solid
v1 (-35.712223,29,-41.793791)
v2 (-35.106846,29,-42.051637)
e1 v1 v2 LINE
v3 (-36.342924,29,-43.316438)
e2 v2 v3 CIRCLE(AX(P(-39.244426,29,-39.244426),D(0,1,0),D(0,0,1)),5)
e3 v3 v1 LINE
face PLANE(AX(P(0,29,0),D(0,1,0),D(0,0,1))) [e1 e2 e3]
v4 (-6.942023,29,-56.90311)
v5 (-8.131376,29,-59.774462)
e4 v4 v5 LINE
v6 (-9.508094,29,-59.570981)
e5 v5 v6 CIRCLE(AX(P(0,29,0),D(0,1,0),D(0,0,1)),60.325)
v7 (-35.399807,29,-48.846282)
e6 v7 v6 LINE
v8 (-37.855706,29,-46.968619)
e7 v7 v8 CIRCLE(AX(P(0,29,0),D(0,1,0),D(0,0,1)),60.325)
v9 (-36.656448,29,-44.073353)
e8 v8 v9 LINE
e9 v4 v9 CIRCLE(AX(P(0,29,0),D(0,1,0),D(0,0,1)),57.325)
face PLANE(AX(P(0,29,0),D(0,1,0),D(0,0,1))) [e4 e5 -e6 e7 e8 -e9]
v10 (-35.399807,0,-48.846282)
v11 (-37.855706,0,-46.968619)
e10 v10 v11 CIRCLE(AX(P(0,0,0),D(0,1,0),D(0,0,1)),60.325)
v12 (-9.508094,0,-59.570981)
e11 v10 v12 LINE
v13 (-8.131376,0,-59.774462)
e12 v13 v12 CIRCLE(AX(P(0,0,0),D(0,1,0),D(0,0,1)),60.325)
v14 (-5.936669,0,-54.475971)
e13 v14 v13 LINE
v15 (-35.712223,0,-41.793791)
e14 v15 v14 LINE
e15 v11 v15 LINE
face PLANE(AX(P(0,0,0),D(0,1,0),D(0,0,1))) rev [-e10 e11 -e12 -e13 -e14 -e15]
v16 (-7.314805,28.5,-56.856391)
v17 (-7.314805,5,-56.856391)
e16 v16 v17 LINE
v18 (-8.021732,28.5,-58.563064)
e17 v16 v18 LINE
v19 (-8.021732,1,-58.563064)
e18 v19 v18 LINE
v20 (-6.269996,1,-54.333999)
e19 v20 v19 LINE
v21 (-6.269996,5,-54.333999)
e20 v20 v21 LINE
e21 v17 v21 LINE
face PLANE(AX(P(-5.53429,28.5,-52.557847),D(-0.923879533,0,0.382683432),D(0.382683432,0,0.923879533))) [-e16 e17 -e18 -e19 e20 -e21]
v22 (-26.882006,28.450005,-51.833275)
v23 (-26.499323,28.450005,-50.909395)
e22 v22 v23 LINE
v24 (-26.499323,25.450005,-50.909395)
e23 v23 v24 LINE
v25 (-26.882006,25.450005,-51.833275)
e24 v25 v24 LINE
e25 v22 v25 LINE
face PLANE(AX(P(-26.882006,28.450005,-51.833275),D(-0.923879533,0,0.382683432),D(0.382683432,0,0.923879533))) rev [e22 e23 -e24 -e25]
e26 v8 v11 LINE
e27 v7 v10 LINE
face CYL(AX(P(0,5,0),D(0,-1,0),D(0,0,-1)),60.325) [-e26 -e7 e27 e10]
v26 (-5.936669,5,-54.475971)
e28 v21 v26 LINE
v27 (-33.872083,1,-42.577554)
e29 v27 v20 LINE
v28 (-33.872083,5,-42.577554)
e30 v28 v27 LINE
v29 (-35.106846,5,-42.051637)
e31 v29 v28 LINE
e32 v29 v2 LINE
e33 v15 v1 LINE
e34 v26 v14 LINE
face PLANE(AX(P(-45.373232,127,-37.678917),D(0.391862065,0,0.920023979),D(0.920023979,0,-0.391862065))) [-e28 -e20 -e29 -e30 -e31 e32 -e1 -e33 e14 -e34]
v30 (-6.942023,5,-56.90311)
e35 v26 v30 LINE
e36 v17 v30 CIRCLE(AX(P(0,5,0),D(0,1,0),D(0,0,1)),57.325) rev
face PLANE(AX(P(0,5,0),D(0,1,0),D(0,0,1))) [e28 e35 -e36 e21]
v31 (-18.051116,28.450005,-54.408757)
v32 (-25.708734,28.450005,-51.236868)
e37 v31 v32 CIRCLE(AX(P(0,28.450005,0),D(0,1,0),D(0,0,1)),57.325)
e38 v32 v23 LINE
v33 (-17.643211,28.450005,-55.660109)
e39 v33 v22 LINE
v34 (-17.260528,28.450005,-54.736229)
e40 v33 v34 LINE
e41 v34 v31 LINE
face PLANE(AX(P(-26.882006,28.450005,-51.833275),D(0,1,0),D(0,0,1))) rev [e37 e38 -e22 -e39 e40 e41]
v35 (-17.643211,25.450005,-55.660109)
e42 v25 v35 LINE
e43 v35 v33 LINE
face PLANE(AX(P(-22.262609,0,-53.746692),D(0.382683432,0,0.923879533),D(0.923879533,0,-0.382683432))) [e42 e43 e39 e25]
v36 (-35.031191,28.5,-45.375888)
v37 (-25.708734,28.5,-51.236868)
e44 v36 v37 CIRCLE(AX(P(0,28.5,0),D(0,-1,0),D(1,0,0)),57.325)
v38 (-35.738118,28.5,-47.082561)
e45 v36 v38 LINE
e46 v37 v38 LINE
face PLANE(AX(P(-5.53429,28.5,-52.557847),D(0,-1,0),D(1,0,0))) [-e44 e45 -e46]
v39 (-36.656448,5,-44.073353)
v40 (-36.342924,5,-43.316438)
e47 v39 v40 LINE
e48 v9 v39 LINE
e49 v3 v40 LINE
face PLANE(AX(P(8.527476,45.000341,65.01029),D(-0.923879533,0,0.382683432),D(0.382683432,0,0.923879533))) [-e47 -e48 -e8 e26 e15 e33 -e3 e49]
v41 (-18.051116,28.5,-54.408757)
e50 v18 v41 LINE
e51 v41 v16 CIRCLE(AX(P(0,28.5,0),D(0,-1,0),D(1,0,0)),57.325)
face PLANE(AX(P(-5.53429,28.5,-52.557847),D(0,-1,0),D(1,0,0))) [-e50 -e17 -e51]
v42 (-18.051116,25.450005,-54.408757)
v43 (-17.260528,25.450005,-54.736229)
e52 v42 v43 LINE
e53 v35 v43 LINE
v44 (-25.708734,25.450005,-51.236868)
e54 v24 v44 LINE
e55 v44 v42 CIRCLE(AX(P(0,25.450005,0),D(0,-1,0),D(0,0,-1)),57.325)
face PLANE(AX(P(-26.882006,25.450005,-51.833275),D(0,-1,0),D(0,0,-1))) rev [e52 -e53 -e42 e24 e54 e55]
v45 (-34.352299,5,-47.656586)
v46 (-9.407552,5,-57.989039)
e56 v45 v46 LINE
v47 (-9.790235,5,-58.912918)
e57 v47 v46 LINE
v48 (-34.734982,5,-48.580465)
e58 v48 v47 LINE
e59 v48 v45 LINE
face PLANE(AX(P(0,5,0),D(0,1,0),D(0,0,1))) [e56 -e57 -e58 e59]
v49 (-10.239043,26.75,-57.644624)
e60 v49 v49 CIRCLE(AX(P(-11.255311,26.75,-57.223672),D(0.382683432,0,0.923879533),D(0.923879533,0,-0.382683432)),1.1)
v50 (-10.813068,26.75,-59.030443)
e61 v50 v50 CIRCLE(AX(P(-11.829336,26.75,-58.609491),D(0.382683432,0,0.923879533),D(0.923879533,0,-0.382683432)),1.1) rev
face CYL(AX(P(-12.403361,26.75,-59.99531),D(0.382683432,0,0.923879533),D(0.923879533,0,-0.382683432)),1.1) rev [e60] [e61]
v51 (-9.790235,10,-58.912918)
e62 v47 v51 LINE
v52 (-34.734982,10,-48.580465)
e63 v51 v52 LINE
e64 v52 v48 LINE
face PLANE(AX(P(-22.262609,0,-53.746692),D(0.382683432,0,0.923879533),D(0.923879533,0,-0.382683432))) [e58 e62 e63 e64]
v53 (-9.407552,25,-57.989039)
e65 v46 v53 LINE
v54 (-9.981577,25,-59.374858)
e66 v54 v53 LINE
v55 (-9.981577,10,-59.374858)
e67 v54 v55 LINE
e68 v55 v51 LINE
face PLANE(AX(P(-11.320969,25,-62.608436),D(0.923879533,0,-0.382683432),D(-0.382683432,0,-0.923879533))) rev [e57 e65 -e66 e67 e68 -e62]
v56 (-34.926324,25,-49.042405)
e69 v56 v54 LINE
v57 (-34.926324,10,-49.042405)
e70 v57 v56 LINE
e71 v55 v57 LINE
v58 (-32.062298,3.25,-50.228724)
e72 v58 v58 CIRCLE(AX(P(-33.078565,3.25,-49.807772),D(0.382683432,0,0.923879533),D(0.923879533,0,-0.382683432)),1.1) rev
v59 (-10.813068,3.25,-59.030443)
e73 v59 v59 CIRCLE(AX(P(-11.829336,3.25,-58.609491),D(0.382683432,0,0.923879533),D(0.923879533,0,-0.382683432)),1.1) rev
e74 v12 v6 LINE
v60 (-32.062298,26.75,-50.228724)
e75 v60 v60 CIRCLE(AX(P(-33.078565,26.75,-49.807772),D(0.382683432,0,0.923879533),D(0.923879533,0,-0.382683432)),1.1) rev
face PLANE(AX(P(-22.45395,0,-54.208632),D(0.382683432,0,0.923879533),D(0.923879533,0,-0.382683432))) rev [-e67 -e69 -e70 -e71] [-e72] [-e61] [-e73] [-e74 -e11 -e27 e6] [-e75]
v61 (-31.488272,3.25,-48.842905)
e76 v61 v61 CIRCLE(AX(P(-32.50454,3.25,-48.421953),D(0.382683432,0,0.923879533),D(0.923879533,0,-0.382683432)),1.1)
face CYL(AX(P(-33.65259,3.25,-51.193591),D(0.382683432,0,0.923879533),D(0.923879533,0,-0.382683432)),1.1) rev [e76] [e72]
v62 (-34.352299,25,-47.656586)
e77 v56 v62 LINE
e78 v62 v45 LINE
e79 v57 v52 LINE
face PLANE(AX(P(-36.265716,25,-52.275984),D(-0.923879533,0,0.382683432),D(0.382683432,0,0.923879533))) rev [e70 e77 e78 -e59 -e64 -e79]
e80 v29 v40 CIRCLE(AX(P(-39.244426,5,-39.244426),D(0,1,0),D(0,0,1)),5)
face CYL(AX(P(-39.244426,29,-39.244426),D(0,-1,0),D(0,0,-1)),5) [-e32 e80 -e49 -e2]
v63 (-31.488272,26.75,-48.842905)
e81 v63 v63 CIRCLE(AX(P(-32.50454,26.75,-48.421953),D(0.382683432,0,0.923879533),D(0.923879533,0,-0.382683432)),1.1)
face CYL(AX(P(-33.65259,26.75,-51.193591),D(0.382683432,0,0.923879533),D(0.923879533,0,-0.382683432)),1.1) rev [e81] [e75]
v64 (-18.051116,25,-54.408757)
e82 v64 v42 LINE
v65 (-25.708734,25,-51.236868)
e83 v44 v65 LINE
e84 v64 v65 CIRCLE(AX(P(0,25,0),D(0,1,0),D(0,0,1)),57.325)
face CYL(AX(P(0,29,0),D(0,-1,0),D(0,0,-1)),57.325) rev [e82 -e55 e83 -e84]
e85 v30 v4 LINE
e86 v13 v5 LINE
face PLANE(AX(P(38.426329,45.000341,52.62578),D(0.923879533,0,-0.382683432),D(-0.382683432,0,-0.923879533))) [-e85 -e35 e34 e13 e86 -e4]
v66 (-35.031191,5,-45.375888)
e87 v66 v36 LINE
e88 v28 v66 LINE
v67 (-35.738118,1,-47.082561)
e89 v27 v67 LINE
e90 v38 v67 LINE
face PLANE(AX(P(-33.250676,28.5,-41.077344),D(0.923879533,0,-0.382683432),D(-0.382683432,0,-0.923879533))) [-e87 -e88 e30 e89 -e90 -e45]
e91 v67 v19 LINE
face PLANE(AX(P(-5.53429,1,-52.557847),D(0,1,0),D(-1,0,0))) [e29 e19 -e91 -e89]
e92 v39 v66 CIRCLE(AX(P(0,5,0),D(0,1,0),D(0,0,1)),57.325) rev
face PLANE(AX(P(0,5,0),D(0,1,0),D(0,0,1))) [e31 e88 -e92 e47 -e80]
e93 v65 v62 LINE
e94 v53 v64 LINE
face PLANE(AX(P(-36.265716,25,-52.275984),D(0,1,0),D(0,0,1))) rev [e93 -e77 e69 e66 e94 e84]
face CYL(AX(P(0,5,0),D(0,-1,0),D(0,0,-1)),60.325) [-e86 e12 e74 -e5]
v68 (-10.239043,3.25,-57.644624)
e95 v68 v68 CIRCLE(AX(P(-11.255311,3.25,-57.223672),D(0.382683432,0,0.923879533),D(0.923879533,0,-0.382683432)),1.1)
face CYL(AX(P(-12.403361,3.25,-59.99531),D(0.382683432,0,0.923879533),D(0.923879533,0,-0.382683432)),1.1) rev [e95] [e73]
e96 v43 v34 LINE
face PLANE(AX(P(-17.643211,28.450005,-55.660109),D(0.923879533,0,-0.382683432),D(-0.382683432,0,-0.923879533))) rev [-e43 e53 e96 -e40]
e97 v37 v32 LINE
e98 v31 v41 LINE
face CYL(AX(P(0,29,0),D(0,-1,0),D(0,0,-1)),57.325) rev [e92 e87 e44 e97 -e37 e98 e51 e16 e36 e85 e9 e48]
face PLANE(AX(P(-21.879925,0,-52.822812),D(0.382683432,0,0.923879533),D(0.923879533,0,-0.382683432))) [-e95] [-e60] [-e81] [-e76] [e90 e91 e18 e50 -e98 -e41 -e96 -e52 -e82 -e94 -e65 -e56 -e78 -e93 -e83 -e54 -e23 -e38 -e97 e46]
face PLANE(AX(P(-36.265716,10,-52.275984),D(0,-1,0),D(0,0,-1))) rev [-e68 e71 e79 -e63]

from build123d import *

# Parameters (mm, degrees)
SKETCH1_R                = 60.325
BOSS_EXTRUDE1_DEPTH      = 5
SKETCH3_R                = 60.325
SKETCH3_R_2              = 57.325
BOSS_EXTRUDE3_DEPTH      = 24
BOSS_EXTRUDE13_DEPTH     = 2
SKETCH7_R                = 5.5
CUT_EXTRUDE1_DEPTH       = 5
SKETCH14_R               = 2.5000000000000004
CUT_EXTRUDE7_DEPTH       = 5
SKETCH15_R               = 12.5
BOSS_EXTRUDE15_DEPTH     = 3
SKETCH16_R               = 10.5
CUT_EXTRUDE9_DEPTH       = 5
SKETCH17_R               = 2.5000000000000018
SKETCH17_R_2             = 2.500000000000002
SKETCH17_R_3             = 2.5000000000000004
CUT_EXTRUDE10_DEPTH      = 5
SKETCH20_W               = 10.617189631650703
SKETCH20_H               = 4.842928603910877
CUT_EXTRUDE13_DEPTH      = 1
SKETCH26_W               = 50
SKETCH26_H               = 24
BOSS_EXTRUDE46_DEPTH     = 10
SKETCH27_W               = 45
SKETCH27_H               = 20.000000000000004
CUT_EXTRUDE15_DEPTH      = 5
SKETCH29_R               = 1.0999999999999992
CUT_EXTRUDE17_DEPTH      = 10
CUT_EXTRUDE18_DEPTH      = 20
BOSS_EXTRUDE47_DEPTH     = 24
CUT_EXTRUDE19_START      = -30
CUT_EXTRUDE19_DEPTH      = 30
SKETCH31_R               = 3.0000000000000018
SKETCH31_R_2             = 3.0000000000000004
BOSS_EXTRUDE48_DEPTH     = 10
SKETCH32_R               = 1.5000000000000024
SKETCH32_R_2             = 1.5000000000000042
CUT_EXTRUDE20_DEPTH      = 5
SKETCH33_R               = 2.500000000000004
SKETCH33_R_2             = 2.4999999999999973
BOSS_EXTRUDE49_DEPTH     = 5
SKETCH34_R               = 1.100000000000003
SKETCH34_R_2             = 1.100000000000001
SKETCH34_R_3             = 1.1
SKETCH34_R_4             = 1.0999999999999983
CUT_EXTRUDE21_DEPTH      = 5
BOSS_EXTRUDE50_DEPTH     = 15
BOSS_EXTRUDE51_DEPTH     = 2
CUT_EXTRUDE25_DEPTH      = 2
CUT_EXTRUDE26_DEPTH      = 12
SKETCH41_R               = 1.0999999999999992
SKETCH41_R_2             = 1.100000000000001
CUT_EXTRUDE27_DEPTH      = 12
CUT_EXTRUDE28_DEPTH      = 4
CUT_EXTRUDE28_DEPTH_BACK = 2.5
SKETCH44_R               = 2.499999999999999
BOSS_EXTRUDE52_DEPTH     = 5
SKETCH45_R               = 1.0999999999999983
CUT_EXTRUDE29_DEPTH      = 5
CUT_EXTRUDE30_DEPTH      = 5
SKETCH47_R               = 1.100000000000001
CUT_EXTRUDE31_DEPTH      = 3
CUT_EXTRUDE32_DEPTH      = 5
SKETCH49_W               = 27
SKETCH49_H               = 5
CUT_EXTRUDE33_DEPTH      = 1
SKETCH50_W               = 54.2861765056904
SKETCH50_H               = 77.14351398178086
CUT_EXTRUDE34_DEPTH      = 121.99999999999999
CUT_EXTRUDE35_DEPTH      = 121.99999999999999
CUT_EXTRUDE35_DEPTH_BACK = 121.99999999999999


with BuildPart() as part:
    # Sketch1 → Boss-Extrude1 (new body)
    with BuildSketch(Plane(origin=(0, 0, 0), x_dir=(1, 0, 0), z_dir=(0, 1, 0))):
        Circle(SKETCH1_R)
    extrude(amount=BOSS_EXTRUDE1_DEPTH)

    # Sketch3 → Boss-Extrude3 (add)
    with BuildSketch(Plane(origin=(0, 5, 0), x_dir=(1, 0, 0), z_dir=(0, 1, 0))):
        Circle(SKETCH3_R)
        Circle(SKETCH3_R_2, mode=Mode.SUBTRACT)
    extrude(amount=BOSS_EXTRUDE3_DEPTH)

    # Sketch6 → Boss-Extrude13 (add)
    with BuildSketch(Plane.XY.offset(60.325)):
        Polygon((-7.5, 19.5), (7.5, 19.5), (7.5000000000000036, 4.500000000000001), (-7.4999999999999964, 4.500000000000001), align=None)
    extrude(amount=-BOSS_EXTRUDE13_DEPTH)

    # Sketch7 → Cut-Extrude1 (cut)
    with BuildSketch(Plane.XY.offset(60.325)):
        with Locations((0, 12.313384582393407)):
            Circle(SKETCH7_R)
    extrude(amount=-CUT_EXTRUDE1_DEPTH, mode=Mode.SUBTRACT)

    # Sketch14 → Cut-Extrude7 (cut)
    with BuildSketch(Plane(origin=(0, 0, -60.325), x_dir=(-1, 0, 0), z_dir=(0, 0, -1))):
        with Locations((0, 13.215899789160813)):
            Circle(SKETCH14_R)
    extrude(amount=-CUT_EXTRUDE7_DEPTH, mode=Mode.SUBTRACT)

    # Sketch15 → Boss-Extrude15 (add)
    with BuildSketch(Plane.ZY.offset(60.325)):
        with Locations((0, 14.079498945802262)):
            Circle(SKETCH15_R)
    extrude(amount=-BOSS_EXTRUDE15_DEPTH)

    # Sketch16 → Cut-Extrude9 (cut)
    with BuildSketch(Plane.ZY.offset(60.325)):
        with Locations((0, 14.367365331349822)):
            Circle(SKETCH16_R)
    extrude(amount=-CUT_EXTRUDE9_DEPTH, mode=Mode.SUBTRACT)

    # Sketch17 → Cut-Extrude10 (cut)
    with BuildSketch(Plane(origin=(0, 5, 0), x_dir=(1, 0, 0), z_dir=(0, 1, 0))):
        with Locations((0, 40)):
            Circle(SKETCH17_R)
        with Locations((40, 0)):
            Circle(SKETCH17_R_2)
        with Locations((0, -40)):
            Circle(SKETCH17_R_3)
        with Locations((-40, 0)):
            Circle(SKETCH17_R_2)
    extrude(amount=-CUT_EXTRUDE10_DEPTH, mode=Mode.SUBTRACT)

    # Sketch20 → Cut-Extrude13 (cut)
    with BuildSketch(Plane(origin=(0, 5, 0), x_dir=(1, 0, 0), z_dir=(0, 1, 0))):
        with Locations((0.20330529432061706, 46.91179778863133)):
            Rectangle(SKETCH20_W, SKETCH20_H)
    extrude(amount=-CUT_EXTRUDE13_DEPTH, mode=Mode.SUBTRACT)

    # Sketch26 → Boss-Extrude46 (add)
    with BuildSketch(Plane(origin=(50, 0, 0), x_dir=(0, 0, -1), z_dir=(1, 0, 0))):
        with Locations((3.55e-15, 17.000000000000004)):
            Rectangle(SKETCH26_W, SKETCH26_H)
    extrude(amount=BOSS_EXTRUDE46_DEPTH)

    # Sketch27 → Cut-Extrude15 (cut)
    with BuildSketch(Plane(origin=(60.325, 0, 0), x_dir=(0, 0, -1), z_dir=(1, 0, 0))):
        with Locations((7.11e-15, 15.000000000000002)):
            Rectangle(SKETCH27_W, SKETCH27_H)
    extrude(amount=-CUT_EXTRUDE15_DEPTH, mode=Mode.SUBTRACT)

    # Sketch29 → Cut-Extrude17 (cut)
    with BuildSketch(Plane(origin=(55.325, 0, 0), x_dir=(0, 0, -1), z_dir=(1, 0, 0))):
        with Locations((-19.999999999999986, 20.999999999999996)):
            Circle(SKETCH29_R)
        with Locations((-19.999999999999986, 9)):
            Circle(SKETCH29_R)
        with Locations((20.000000000000018, 20.999999999999996)):
            Circle(SKETCH29_R)
        with Locations((20.000000000000014, 9.151874819132662)):
            Circle(SKETCH29_R)
    extrude(amount=-CUT_EXTRUDE17_DEPTH, mode=Mode.SUBTRACT)

    # Sketch28 → Cut-Extrude18 (cut)
    with BuildSketch(Plane(origin=(60.325, 0, 0), x_dir=(0, 0, -1), z_dir=(1, 0, 0))):
        Polygon((-17.499999999999996, 23.348125180867335), (17.500000000000004, 23.348125180867342), (17.500000000000007, 6.6518748191326615), (-17.499999999999996, 6.651874819132655), align=None)
    extrude(amount=-CUT_EXTRUDE18_DEPTH, mode=Mode.SUBTRACT)

    # Sketch5 → Boss-Extrude47 (add)
    with BuildSketch(Plane(origin=(0, 5, 0), x_dir=(1, 0, 0), z_dir=(0, 1, 0))):
        with BuildLine():
            ThreePointArc((-43.739295545453594, 37.05441471926724), (-35.70889244992055, 35.708892449920754), (-37.054414719267506, 43.73929554545372))
            ThreePointArc((-37.05441471926745, 43.73929554545359), (-38.52084651181077, 42.453504084039004), (-39.94269093151786, 41.118573250408886))
            ThreePointArc((-39.94269093151788, 41.11857325040891), (-37.83021279348029, 37.83021279348028), (-41.1185732504089, 39.942690931517895))
            ThreePointArc((-41.11857325040886, 39.94269093151788), (-42.45350408403905, 38.520846511810724), (-43.739295545453714, 37.0544147192673))
        make_face()
        with BuildLine():
            ThreePointArc((37.05441471926732, 43.73929554545373), (35.70889244992064, 35.70889244992067), (43.739295545453665, 37.05441471926758))
            ThreePointArc((43.73929554545353, 37.05441471926752), (42.45350408403893, 38.52084651181085), (41.11857325040883, 39.94269093151792))
            ThreePointArc((41.11857325040885, 39.94269093151794), (37.83021279348023, 37.830212793480364), (39.94269093151782, 41.11857325040898))
            ThreePointArc((39.942690931517795, 41.11857325040895), (38.52084651181068, 42.45350408403908), (37.05441471926731, 43.739295545453714))
        make_face()
        with BuildLine():
            ThreePointArc((-43.73929554545361, -37.05441471926742), (-42.45350408403899, -38.52084651181079), (-41.11857325040885, -39.94269093151789))
            ThreePointArc((-41.118573250408886, -39.94269093151791), (-37.83021279348029, -37.83021279348027), (-39.94269093151786, -41.11857325040891))
            ThreePointArc((-39.94269093151787, -41.11857325040888), (-38.520846511810724, -42.45350408403905), (-37.05441471926732, -43.7392955454537))
            ThreePointArc((-37.05441471926724, -43.73929554545361), (-35.70889244992073, -35.70889244992055), (-43.739295545453714, -37.05441471926749))
        make_face()
        with BuildLine():
            ThreePointArc((43.73929554545405, -37.0544147192667), (35.70889244992104, -35.70889244992027), (37.054414719267896, -43.7392955454532))
            ThreePointArc((37.05441471926789, -43.73929554545322), (38.52084651181126, -42.45350408403856), (39.94269093151833, -41.11857325040843))
            ThreePointArc((39.94269093151833, -41.11857325040844), (37.83021279348074, -37.83021279347984), (41.118573250409426, -39.942690931517305))
            ThreePointArc((41.118573250409405, -39.942690931517326), (42.453504084039544, -38.520846511810184), (43.739295545454155, -37.05441471926678))
        make_face()
    extrude(amount=BOSS_EXTRUDE47_DEPTH)

    # Sketch30 → Cut-Extrude19 (cut)
    with BuildSketch(Plane(origin=(0, 29, 0), x_dir=(1, 0, 0), z_dir=(0, 1, 0)).offset(CUT_EXTRUDE19_START)):
        with BuildLine():
            Line((51.783140736674326, 30.9453059517236), (68.40972028142612, 30.9453059517236))
            ThreePointArc((68.40972028142612, 30.9453059517236), (75.07900376332695, -0.803108545018857), (67.73210824333012, -32.401594132736065))
            Line((67.73210824333012, -32.401594132736065), (50.88459808878757, -32.401594132736065))
            ThreePointArc((50.88459808878757, -32.401594132736065), (60.31893223906523, -0.8555925075975032), (51.783140736674326, 30.9453059517236))
        make_face()
    extrude(amount=CUT_EXTRUDE19_DEPTH, mode=Mode.SUBTRACT)

    # Sketch31 → Boss-Extrude48 (add)
    with BuildSketch(Plane(origin=(0, 5, 0), x_dir=(1, 0, 0), z_dir=(0, 1, 0))):
        with Locations((-33.05, 28)):
            Circle(SKETCH31_R)
        with Locations((-14.000000000000004, 28)):
            Circle(SKETCH31_R_2)
        with Locations((-13.999999999999996, -27.88)):
            Circle(SKETCH31_R_2)
        with Locations((-33.05, -27.88)):
            Circle(SKETCH31_R)
    extrude(amount=BOSS_EXTRUDE48_DEPTH)

    # Sketch32 → Cut-Extrude20 (cut)
    with BuildSketch(Plane(origin=(0, 15, 0), x_dir=(1, 0, 0), z_dir=(0, 1, 0))):
        with Locations((-13.999999999999996, -27.88)):
            Circle(SKETCH32_R)
        with Locations((-33.05, -27.88)):
            Circle(SKETCH32_R_2)
        with Locations((-33.05, 28)):
            Circle(SKETCH32_R_2)
        with Locations((-14.000000000000004, 28)):
            Circle(SKETCH32_R)
    extrude(amount=-CUT_EXTRUDE20_DEPTH, mode=Mode.SUBTRACT)

    # Sketch33 → Boss-Extrude49 (add)
    with BuildSketch(Plane(origin=(0, 5, 0), x_dir=(1, 0, 0), z_dir=(0, 1, 0))):
        with Locations((-5.000000000000004, 35)):
            Circle(SKETCH33_R)
        with Locations((6.3999989036082425, 35.004999773071894)):
            Circle(SKETCH33_R_2)
        Polygon((-6.750000000000009, -14.647089988643435), (-3.2500000000000084, -14.647089988643431), (-3.2500000000000084, -9.352910011356565), (-6.750000000000009, -9.352910011356565), align=None)
        Polygon((4.649999999999994, -14.647089988643435), (8.149999999999995, -14.647089988643435), (8.149999999999993, -9.352910011356565), (4.649999999999994, -9.352910011356565), align=None)
    extrude(amount=BOSS_EXTRUDE49_DEPTH)

    # Sketch34 → Cut-Extrude21 (cut)
    with BuildSketch(Plane(origin=(0, 10, 0), x_dir=(1, 0, 0), z_dir=(0, 1, 0))):
        with Locations((6.3999989036082425, 35.004999773071894)):
            Circle(SKETCH34_R)
        with Locations((6.399998903608244, -12)):
            Circle(SKETCH34_R_2)
        with Locations((-5.000000000000003, -12)):
            Circle(SKETCH34_R_3)
        with Locations((-5.000000000000004, 35)):
            Circle(SKETCH34_R_4)
    extrude(amount=-CUT_EXTRUDE21_DEPTH, mode=Mode.SUBTRACT)

    # Sketch35 → Boss-Extrude50 (add)
    with BuildSketch(Plane(origin=(0, 5, 0), x_dir=(1, 0, 0), z_dir=(0, 1, 0))):
        Polygon((13.999999999999998, 20), (16.999999999999996, 20), (17, -20), (14.000000000000004, -20), align=None)
    extrude(amount=BOSS_EXTRUDE50_DEPTH)

    # Sketch39 → Boss-Extrude51 (add)
    with BuildSketch(Plane(origin=(21.171960895598467, 0, 51.113635136187), x_dir=(0, -1, 0), z_dir=(0.38268343236508734, 0, 0.9238795325112877))):
        Polygon((-29, 15.014391088551141), (-5.000000000000002, 15.014391088551141), (-4.999999999999997, -14.985608911448859), (-29, -14.985608911448859), align=None)
    boss_extrude51 = extrude(amount=BOSS_EXTRUDE51_DEPTH)

    # Sketch37 → Cut-Extrude25 (cut)
    with BuildSketch(Plane(origin=(23.0853780574239, 0, 55.73303279874344), x_dir=(0, -1, 0), z_dir=(0.38268343236508734, 0, 0.9238795325112877))):
        Polygon((-25, 13.999999999999996), (-5.000000000000001, 13.999999999999996), (-4.999999999999999, -14.000000000000004), (-24.999999999999996, -14.000000000000004), align=None)
    cut_extrude25 = extrude(amount=-CUT_EXTRUDE25_DEPTH, mode=Mode.SUBTRACT)

    # Sketch40 → Cut-Extrude26 (cut)
    with BuildSketch(Plane(origin=(23.0853780574239, 0, 55.73303279874344), x_dir=(0, -1, 0), z_dir=(0.38268343236508734, 0, 0.9238795325112877))):
        Polygon((-23, 9.999999999999996), (-7.000000000000003, 9.999999999999996), (-6.999999999999998, -10.000000000000004), (-22.999999999999996, -10.000000000000004), align=None)
    cut_extrude26 = extrude(amount=-CUT_EXTRUDE26_DEPTH, mode=Mode.SUBTRACT)

    # Sketch41 → Cut-Extrude27 (cut)
    with BuildSketch(Plane(origin=(23.0853780574239, 0, 55.73303279874344), x_dir=(0, -1, 0), z_dir=(0.38268343236508734, 0, 0.9238795325112877))):
        with Locations((-21, 12)):
            Circle(SKETCH41_R)
        with Locations((-9.000000000000002, 12)):
            Circle(SKETCH41_R_2)
        with Locations((-8.999999999999998, -12)):
            Circle(SKETCH41_R_2)
        with Locations((-20.999999999999996, -12)):
            Circle(SKETCH41_R)
    cut_extrude27 = extrude(amount=-CUT_EXTRUDE27_DEPTH, mode=Mode.SUBTRACT)

    # Mirror2: Boss-Extrude51, Cut-Extrude25, Cut-Extrude26, Cut-Extrude27 across plane
    add(boss_extrude51.mirror(Plane(origin=(0, 0, 0), x_dir=(0, 0, 1), z_dir=(1, 0, 0))))
    add(cut_extrude25.mirror(Plane(origin=(0, 0, 0), x_dir=(0, 0, 1), z_dir=(1, 0, 0))), mode=Mode.SUBTRACT)
    add(cut_extrude26.mirror(Plane(origin=(0, 0, 0), x_dir=(0, 0, 1), z_dir=(1, 0, 0))), mode=Mode.SUBTRACT)
    add(cut_extrude27.mirror(Plane(origin=(0, 0, 0), x_dir=(0, 0, 1), z_dir=(1, 0, 0))), mode=Mode.SUBTRACT)

    # Sketch43 → Cut-Extrude28 (cut, two sides: drawn at the far end of the back side and taken through both)
    with BuildSketch(Plane(origin=(-20.923216664561146, 0, -50.51311344005465), x_dir=(0, -1, 0), z_dir=(0.38268343236508734, 0, 0.9238795325112877)).offset(-CUT_EXTRUDE28_DEPTH_BACK)):
        Polygon((-28.5, 15), (-1.0000000000000009, 15), (-0.9999999999999974, -15), (-28.499999999999996, -15), align=None)
    extrude(amount=CUT_EXTRUDE28_DEPTH + CUT_EXTRUDE28_DEPTH_BACK, mode=Mode.SUBTRACT)

    # Sketch44 → Boss-Extrude52 (add)
    with BuildSketch(Plane(origin=(0, 5, 0), x_dir=(1, 0, 0), z_dir=(0, 1, 0))):
        with Locations((-20, 45)):
            Circle(SKETCH44_R)
        with Locations((18.229539652623778, 45)):
            Circle(SKETCH44_R)
        with Locations((18.229539652623778, -32.02717202587299)):
            Circle(SKETCH44_R)
    extrude(amount=BOSS_EXTRUDE52_DEPTH)

    # Sketch45 → Cut-Extrude29 (cut)
    with BuildSketch(Plane(origin=(0, 10, 0), x_dir=(1, 0, 0), z_dir=(0, 1, 0))):
        with Locations((-20, 45)):
            Circle(SKETCH45_R)
        with Locations((18.229539652623778, 45)):
            Circle(SKETCH45_R)
        with Locations((18.229539652623778, -32.02717202587299)):
            Circle(SKETCH45_R)
    extrude(amount=-CUT_EXTRUDE29_DEPTH, mode=Mode.SUBTRACT)

    # Sketch46 → Cut-Extrude30 (cut)
    with BuildSketch(Plane(origin=(-21.879925245473853, 0, -52.82281227133289), x_dir=(0.9238795325112877, 0, -0.38268343236508756), z_dir=(0.38268343236508756, 0, 0.9238795325112877))):
        Polygon((-13.50000000000003, 25), (13.49999999999997, 25), (13.499999999999968, 10), (-13.500000000000028, 10), align=None)
    extrude(amount=-CUT_EXTRUDE30_DEPTH, mode=Mode.SUBTRACT)

    # Sketch47 → Cut-Extrude31 (cut)
    with BuildSketch(Plane(origin=(-21.879925245473853, 0, -52.82281227133289), x_dir=(0.9238795325112877, 0, -0.38268343236508756), z_dir=(0.38268343236508756, 0, 0.9238795325112877))):
        with Locations((11.500000000000005, 26.75)):
            Circle(SKETCH47_R)
        with Locations((-11.499999999999995, 26.75)):
            Circle(SKETCH47_R)
        with Locations((-11.5, 3.25)):
            Circle(SKETCH47_R)
        with Locations((11.500000000000002, 3.25)):
            Circle(SKETCH47_R)
    extrude(amount=-CUT_EXTRUDE31_DEPTH, mode=Mode.SUBTRACT)

    # Sketch48 → Cut-Extrude32 (cut)
    with BuildSketch(Plane(origin=(-22.453950394021497, 0, -54.208631570099804), x_dir=(0, -1, 0), z_dir=(0.38268343236508734, 0, 0.9238795325112877))):
        Polygon((-35, 15), (4.999999999999997, 15), (5.000000000000004, -15), (-34.99999999999999, -15), align=None)
    extrude(amount=-CUT_EXTRUDE32_DEPTH, mode=Mode.SUBTRACT)

    # Sketch49 → Cut-Extrude33 (cut)
    with BuildSketch(Plane(origin=(-21.87992524547385, 0, -52.82281227133288), x_dir=(0.9238795325112878, 0, -0.3826834323650871), z_dir=(0.3826834323650871, 0, 0.9238795325112878))):
        Polygon((-5.0000000000000036, 28.45000478430176), (4.9999999999999964, 28.45000478430176), (4.999999999999996, 25.45000478430176), (-5.000000000000003, 25.45000478430176), align=None)
        with Locations((-4.44e-15, 7.5)):
            Rectangle(SKETCH49_W, SKETCH49_H)
    extrude(amount=-CUT_EXTRUDE33_DEPTH, mode=Mode.SUBTRACT)

    # Sketch50 → Cut-Extrude34 (cut)
    with BuildSketch(Plane(origin=(-22.453950394021497, 0, -54.208631570099804), x_dir=(0, -1, 0), z_dir=(0.38268343236508734, 0, 0.9238795325112877))):
        with Locations((-17.857252330295086, 53.93404146233521)):
            Rectangle(SKETCH50_W, SKETCH50_H)
        Polygon((-45.000340583140286, -17), (9.28583592255012, -17), (9.28583592255013, -76.71479415626372), (-45.00034058314028, -76.71479415626372), align=None)
    extrude(amount=CUT_EXTRUDE34_DEPTH, mode=Mode.SUBTRACT)

    # Sketch51 → Cut-Extrude35 (cut, two sides: drawn at the far end of the back side and taken through both)
    with BuildSketch(Plane(origin=(0, 5, 0), x_dir=(1, 0, 0), z_dir=(0, 1, 0)).offset(-CUT_EXTRUDE35_DEPTH_BACK)):
        Polygon((-45.373232140480866, 37.67891691481655), (7.973371924553829, 60.4006186462202), (56.61957897539295, -53.8122152992282), (1.6860833467658822, -72.80817162045847), align=None)
    extrude(amount=CUT_EXTRUDE35_DEPTH + CUT_EXTRUDE35_DEPTH_BACK, mode=Mode.SUBTRACT)


solid = part.part
